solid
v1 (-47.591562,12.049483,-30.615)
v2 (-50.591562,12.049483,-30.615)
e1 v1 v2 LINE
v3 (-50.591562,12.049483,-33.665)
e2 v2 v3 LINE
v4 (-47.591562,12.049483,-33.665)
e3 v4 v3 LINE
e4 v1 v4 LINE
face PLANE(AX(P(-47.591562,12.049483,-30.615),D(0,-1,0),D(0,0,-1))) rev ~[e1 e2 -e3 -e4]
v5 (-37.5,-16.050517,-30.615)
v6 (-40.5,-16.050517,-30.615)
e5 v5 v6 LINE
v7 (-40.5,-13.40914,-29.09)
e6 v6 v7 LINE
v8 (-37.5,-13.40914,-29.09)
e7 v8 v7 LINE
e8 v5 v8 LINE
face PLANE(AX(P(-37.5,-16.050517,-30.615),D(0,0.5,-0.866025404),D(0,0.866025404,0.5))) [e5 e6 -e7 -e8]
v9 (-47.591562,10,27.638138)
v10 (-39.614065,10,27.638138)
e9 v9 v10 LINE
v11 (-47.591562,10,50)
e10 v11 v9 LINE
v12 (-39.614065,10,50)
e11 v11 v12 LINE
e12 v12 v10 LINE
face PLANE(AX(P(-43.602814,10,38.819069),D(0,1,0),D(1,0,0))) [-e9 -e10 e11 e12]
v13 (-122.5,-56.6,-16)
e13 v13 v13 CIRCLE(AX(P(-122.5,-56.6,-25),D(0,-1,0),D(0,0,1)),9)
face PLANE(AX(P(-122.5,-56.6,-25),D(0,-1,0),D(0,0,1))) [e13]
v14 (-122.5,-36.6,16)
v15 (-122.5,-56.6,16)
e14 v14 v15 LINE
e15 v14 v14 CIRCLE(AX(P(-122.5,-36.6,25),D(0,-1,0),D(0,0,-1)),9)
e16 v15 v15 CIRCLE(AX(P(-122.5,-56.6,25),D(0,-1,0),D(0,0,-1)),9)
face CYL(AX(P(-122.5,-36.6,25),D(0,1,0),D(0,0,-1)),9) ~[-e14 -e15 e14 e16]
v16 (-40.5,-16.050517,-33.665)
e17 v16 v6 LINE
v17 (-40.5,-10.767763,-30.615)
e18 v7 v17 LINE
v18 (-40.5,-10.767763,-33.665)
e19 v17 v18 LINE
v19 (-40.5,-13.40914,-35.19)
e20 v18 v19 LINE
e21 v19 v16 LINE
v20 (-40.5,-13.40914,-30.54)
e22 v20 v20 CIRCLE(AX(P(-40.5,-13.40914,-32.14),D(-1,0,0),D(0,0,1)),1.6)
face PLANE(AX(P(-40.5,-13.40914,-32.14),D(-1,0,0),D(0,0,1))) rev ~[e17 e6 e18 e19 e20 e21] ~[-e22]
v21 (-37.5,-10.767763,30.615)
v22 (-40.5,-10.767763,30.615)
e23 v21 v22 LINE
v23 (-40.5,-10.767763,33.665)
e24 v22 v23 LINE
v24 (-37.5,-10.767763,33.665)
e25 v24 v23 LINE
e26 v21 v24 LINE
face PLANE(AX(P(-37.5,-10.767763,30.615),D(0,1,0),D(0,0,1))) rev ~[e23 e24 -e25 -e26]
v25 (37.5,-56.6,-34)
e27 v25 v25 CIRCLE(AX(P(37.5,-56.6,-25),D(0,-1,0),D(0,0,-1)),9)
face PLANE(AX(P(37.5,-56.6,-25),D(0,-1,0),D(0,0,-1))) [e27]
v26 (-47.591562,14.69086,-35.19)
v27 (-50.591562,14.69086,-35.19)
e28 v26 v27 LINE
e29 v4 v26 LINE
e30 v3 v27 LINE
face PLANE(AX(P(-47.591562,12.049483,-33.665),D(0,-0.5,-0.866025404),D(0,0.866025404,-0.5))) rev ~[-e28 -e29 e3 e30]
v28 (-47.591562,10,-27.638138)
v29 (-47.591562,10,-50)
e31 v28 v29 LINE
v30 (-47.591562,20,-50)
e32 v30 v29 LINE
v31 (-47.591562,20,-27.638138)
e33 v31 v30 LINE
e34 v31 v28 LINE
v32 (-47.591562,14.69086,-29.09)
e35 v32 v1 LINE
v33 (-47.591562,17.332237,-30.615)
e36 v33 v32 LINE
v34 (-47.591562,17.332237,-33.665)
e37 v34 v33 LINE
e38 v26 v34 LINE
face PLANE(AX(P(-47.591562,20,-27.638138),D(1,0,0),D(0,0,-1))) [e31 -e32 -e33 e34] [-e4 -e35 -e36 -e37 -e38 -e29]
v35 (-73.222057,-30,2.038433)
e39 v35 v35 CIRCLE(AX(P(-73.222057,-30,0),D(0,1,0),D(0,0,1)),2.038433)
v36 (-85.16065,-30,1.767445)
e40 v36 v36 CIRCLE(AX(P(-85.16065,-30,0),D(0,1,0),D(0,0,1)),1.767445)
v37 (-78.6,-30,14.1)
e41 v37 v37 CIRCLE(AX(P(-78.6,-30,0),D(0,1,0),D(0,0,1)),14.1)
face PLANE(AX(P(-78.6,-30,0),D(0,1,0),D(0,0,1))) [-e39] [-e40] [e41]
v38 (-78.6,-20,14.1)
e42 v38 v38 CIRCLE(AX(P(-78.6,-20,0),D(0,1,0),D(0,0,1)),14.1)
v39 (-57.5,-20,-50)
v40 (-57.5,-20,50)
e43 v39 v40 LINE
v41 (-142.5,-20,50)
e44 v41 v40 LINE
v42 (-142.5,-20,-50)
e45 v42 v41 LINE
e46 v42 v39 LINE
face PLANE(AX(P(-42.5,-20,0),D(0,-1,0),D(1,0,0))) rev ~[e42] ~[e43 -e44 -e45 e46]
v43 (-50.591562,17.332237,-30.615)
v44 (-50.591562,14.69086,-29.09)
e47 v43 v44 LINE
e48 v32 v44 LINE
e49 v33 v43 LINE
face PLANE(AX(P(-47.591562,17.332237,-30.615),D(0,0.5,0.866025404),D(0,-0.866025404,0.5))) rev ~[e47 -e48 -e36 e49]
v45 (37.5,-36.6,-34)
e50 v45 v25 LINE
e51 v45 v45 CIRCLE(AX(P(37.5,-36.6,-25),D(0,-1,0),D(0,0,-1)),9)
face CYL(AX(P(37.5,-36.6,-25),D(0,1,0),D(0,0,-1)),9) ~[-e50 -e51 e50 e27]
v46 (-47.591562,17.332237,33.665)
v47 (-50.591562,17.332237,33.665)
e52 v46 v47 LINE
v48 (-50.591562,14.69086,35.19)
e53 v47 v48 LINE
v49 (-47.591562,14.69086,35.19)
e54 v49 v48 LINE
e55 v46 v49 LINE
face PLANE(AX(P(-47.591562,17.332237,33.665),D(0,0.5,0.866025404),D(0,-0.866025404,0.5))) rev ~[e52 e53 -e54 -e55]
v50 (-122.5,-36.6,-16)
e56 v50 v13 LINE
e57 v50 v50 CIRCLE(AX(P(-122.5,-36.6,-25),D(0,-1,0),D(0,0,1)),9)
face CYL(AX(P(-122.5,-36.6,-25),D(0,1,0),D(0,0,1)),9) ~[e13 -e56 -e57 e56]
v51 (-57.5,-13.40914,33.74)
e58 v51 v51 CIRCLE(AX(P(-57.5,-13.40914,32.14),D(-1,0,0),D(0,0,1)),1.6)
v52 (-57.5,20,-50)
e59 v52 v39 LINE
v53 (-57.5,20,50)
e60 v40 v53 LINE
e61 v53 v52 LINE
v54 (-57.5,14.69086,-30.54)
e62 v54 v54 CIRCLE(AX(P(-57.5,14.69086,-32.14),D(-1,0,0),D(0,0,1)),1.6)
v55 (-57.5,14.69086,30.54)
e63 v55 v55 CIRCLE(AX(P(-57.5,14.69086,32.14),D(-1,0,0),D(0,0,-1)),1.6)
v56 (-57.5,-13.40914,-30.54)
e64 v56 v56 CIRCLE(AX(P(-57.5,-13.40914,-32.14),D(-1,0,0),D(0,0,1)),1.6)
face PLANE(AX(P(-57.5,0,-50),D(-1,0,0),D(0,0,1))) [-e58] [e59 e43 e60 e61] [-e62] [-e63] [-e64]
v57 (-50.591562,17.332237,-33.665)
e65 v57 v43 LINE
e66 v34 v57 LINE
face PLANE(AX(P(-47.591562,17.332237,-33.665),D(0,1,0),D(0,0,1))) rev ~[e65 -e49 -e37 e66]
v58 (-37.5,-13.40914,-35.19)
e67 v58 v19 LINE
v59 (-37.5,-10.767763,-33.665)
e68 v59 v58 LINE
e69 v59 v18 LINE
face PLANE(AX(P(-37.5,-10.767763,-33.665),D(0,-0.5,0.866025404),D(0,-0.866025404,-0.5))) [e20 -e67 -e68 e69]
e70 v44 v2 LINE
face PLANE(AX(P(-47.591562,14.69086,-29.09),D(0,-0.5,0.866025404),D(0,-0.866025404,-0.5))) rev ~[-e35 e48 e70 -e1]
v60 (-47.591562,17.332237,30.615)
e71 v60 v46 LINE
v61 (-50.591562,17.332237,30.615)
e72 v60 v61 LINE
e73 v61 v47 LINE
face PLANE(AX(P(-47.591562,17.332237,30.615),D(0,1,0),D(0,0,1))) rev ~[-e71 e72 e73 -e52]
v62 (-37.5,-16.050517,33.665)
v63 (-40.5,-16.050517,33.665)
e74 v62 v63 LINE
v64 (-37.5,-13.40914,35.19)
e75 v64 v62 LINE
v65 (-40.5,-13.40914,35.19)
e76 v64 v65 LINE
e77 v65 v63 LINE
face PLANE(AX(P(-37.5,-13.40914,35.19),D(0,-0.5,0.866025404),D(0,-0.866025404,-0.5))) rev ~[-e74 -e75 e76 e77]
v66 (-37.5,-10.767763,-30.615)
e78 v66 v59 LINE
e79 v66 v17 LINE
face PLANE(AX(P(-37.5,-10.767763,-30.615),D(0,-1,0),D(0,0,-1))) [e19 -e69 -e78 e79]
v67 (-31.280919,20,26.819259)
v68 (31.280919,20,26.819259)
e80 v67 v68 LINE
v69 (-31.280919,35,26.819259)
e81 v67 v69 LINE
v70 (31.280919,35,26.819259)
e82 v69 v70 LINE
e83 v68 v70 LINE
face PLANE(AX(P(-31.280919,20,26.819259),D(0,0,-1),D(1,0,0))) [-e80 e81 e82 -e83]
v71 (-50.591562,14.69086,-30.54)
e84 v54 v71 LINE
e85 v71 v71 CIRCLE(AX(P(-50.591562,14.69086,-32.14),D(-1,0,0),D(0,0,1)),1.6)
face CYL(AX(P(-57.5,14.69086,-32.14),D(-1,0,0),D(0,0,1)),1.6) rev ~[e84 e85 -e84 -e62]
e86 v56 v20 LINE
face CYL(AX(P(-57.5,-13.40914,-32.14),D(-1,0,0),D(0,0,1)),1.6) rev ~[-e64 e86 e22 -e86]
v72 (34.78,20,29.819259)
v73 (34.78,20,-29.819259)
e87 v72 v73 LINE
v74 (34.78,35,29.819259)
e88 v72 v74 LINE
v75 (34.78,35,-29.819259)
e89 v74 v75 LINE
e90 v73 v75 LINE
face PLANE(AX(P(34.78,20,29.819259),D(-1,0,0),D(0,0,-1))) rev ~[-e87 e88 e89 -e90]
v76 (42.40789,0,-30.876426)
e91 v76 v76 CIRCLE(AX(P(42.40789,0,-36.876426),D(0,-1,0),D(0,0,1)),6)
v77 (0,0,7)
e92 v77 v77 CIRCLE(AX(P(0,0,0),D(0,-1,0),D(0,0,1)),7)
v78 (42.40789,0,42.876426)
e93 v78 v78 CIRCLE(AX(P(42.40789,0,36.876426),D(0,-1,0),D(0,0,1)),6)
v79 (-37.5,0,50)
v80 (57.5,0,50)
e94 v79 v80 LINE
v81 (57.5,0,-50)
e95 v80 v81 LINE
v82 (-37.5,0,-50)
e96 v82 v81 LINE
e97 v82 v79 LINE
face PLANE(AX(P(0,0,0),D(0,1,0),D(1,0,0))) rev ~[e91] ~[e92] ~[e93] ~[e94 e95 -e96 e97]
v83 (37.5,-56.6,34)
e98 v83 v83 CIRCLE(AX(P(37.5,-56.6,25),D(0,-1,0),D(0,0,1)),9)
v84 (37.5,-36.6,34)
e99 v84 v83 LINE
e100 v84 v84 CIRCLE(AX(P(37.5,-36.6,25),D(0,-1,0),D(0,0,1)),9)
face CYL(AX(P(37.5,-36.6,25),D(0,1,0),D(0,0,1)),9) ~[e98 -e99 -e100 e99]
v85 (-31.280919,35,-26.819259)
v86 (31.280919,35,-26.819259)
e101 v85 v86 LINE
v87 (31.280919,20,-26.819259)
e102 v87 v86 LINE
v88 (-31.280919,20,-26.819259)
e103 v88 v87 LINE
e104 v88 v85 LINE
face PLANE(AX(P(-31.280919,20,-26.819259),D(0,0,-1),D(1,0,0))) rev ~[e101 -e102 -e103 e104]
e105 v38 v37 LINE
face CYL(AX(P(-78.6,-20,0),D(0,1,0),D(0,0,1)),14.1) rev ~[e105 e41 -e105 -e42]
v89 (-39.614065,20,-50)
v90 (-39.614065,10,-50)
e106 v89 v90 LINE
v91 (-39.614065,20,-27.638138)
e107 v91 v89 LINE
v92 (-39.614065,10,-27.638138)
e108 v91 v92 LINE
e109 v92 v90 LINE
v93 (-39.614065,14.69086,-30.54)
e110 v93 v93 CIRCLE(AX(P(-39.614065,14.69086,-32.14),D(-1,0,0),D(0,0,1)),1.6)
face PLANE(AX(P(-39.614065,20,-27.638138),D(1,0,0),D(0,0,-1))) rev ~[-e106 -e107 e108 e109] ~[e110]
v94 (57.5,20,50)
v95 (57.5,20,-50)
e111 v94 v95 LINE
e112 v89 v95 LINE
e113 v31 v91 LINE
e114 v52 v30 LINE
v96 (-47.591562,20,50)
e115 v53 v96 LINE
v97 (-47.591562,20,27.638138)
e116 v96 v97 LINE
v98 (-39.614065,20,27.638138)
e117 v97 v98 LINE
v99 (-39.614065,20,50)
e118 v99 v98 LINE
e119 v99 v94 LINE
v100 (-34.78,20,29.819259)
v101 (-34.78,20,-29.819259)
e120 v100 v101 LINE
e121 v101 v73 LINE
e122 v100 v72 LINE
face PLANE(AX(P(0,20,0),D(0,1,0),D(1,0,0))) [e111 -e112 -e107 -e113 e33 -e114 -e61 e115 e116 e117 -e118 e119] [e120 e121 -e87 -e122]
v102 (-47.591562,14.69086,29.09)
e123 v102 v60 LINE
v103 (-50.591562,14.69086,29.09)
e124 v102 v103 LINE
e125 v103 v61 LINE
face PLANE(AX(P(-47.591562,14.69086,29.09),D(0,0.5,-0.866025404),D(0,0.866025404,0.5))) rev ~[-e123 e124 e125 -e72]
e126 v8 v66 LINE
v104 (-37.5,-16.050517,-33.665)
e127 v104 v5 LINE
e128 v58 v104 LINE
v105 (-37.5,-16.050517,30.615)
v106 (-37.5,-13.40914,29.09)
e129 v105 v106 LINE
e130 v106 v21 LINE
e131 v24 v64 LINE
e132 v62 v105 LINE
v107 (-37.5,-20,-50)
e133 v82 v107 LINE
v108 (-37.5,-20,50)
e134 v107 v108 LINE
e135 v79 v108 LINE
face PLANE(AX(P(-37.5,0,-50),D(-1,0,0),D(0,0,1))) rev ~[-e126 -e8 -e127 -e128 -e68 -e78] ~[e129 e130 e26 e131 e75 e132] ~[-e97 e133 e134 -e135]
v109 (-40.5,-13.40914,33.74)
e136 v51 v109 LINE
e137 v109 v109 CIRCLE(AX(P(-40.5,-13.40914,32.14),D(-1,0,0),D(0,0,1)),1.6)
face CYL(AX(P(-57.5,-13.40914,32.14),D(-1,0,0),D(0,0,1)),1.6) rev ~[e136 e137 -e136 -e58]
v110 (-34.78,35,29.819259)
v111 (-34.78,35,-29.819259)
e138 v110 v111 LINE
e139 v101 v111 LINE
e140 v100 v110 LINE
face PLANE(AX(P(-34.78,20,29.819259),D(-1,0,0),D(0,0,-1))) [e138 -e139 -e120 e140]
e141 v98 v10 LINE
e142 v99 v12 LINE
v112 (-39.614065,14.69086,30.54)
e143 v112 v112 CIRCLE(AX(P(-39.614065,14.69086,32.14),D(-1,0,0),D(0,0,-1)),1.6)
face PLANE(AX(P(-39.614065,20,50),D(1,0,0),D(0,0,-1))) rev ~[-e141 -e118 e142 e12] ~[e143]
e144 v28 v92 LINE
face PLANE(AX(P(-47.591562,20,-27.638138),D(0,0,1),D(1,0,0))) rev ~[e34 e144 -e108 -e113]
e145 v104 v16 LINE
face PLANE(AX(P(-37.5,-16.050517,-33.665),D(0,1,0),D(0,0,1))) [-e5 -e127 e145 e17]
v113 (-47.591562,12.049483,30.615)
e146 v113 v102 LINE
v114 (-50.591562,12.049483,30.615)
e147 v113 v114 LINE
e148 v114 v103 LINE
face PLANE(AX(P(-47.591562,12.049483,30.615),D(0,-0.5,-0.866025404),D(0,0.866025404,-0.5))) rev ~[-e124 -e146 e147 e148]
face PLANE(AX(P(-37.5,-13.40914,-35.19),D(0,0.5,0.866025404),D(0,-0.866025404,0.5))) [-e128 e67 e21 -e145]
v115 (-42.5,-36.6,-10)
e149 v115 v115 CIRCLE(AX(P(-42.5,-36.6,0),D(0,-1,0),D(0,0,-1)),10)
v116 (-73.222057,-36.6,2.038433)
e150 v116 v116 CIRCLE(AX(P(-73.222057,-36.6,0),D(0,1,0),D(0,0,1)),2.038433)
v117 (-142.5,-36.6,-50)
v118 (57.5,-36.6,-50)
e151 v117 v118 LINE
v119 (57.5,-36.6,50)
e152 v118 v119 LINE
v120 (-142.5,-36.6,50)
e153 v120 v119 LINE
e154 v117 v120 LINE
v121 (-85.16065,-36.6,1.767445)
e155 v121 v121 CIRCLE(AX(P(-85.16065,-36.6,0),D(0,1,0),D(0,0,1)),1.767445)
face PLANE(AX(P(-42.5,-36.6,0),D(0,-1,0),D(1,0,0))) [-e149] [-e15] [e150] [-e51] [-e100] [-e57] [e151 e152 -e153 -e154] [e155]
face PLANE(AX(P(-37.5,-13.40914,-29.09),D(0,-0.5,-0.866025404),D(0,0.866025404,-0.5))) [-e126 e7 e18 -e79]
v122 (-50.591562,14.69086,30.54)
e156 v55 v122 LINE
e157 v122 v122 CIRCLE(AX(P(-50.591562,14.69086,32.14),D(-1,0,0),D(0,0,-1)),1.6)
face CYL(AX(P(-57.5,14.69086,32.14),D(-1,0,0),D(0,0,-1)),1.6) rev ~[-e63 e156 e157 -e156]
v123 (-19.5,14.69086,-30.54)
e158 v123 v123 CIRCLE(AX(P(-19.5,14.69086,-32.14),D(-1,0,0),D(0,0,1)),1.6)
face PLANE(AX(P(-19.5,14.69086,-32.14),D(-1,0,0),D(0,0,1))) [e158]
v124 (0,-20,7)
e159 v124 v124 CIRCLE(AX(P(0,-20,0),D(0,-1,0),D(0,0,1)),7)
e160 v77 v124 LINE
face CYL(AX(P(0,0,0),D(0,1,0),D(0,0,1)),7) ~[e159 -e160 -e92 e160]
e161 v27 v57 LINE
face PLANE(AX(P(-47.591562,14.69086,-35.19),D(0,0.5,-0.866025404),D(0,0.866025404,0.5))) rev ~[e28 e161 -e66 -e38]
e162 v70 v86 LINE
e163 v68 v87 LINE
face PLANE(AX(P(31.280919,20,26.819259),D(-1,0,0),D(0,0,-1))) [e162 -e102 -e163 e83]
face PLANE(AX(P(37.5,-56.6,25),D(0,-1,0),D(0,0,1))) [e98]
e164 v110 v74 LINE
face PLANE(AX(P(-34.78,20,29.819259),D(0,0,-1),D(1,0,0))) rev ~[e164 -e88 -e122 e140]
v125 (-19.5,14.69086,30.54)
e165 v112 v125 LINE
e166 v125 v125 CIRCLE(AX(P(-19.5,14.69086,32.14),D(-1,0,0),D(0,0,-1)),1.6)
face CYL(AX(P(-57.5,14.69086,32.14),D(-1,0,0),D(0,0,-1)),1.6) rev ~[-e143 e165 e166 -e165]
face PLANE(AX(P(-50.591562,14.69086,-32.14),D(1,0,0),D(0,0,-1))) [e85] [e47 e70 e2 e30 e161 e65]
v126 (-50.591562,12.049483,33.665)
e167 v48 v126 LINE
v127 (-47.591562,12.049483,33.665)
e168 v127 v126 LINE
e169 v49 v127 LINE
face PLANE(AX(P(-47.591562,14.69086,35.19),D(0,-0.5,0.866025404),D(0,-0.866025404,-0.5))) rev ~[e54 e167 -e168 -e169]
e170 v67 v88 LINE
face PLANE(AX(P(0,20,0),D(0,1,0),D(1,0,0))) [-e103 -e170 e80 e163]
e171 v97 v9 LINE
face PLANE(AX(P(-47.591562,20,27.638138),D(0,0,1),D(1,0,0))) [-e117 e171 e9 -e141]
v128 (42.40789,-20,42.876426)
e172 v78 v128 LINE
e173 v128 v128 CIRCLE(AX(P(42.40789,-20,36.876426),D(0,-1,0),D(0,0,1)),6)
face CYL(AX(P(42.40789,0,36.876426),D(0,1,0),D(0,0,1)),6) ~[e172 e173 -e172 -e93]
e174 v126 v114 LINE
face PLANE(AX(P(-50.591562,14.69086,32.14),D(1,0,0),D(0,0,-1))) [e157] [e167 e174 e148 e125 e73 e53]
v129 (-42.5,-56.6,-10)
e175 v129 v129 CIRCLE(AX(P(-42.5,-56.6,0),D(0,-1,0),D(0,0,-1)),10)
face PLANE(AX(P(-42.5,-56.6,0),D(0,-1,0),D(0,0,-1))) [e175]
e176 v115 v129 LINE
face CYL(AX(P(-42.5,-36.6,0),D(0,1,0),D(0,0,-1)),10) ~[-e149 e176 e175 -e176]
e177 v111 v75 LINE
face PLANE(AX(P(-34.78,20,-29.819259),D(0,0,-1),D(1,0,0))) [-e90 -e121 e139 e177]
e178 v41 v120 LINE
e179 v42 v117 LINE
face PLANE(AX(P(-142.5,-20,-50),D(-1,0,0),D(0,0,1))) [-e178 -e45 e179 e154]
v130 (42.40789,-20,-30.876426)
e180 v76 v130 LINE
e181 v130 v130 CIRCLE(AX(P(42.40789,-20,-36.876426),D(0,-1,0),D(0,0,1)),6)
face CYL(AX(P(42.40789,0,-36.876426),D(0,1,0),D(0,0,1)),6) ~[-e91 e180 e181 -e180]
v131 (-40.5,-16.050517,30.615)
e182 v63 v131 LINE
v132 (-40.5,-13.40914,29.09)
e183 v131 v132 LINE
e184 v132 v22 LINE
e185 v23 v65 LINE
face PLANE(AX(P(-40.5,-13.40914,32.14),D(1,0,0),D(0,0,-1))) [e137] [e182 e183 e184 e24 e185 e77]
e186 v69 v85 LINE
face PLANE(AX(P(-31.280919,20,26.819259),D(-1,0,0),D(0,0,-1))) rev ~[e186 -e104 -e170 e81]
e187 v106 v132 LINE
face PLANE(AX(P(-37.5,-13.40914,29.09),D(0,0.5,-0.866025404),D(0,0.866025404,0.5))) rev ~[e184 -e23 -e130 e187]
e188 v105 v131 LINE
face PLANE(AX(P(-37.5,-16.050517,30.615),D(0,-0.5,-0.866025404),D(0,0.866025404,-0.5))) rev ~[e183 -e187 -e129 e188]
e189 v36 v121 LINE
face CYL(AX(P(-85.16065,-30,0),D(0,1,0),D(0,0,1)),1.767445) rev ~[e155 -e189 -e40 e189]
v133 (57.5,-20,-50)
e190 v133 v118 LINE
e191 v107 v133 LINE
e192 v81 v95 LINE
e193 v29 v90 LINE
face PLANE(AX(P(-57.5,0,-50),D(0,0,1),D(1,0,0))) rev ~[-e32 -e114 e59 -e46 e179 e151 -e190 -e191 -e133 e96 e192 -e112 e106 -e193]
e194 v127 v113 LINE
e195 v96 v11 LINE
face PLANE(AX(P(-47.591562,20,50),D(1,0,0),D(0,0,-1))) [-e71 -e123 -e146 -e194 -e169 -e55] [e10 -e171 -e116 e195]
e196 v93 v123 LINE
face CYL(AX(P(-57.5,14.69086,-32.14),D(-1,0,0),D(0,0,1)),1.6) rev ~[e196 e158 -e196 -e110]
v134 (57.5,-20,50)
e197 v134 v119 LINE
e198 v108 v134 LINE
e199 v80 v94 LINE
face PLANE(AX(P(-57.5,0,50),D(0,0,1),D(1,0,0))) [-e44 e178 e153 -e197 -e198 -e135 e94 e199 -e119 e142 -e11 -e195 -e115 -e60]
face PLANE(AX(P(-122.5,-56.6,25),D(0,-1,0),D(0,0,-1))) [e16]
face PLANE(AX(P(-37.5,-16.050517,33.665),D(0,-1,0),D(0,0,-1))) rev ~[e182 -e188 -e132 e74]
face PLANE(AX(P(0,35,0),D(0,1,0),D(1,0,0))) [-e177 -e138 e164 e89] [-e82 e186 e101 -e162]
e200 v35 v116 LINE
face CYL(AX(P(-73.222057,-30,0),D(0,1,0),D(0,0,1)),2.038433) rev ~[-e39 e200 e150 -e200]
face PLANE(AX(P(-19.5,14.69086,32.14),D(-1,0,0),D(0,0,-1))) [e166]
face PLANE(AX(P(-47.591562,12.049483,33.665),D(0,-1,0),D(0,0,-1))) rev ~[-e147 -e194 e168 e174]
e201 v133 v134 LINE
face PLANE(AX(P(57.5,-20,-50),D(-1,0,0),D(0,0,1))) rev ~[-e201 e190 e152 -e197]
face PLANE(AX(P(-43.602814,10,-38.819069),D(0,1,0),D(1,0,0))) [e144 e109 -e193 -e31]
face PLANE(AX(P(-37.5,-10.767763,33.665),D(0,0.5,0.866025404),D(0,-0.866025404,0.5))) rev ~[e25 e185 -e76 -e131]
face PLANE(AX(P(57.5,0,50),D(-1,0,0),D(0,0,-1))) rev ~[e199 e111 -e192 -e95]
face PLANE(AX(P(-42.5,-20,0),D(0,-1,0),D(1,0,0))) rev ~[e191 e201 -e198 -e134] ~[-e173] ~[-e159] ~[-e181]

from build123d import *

# Parameters (mm, degrees)
SKETCH1_W            = 115
SKETCH1_H            = 100
BOSS_EXTRUDE1_DEPTH  = 20
SKETCH8_R            = 7
SKETCH8_R_2          = 6
BOSS_EXTRUDE4_DEPTH  = 20
SKETCH9_W            = 200
SKETCH9_H            = 100
BOSS_EXTRUDE5_DEPTH  = 16.6
SKETCH10_R           = 9
SKETCH10_R_2         = 10
BOSS_EXTRUDE7_DEPTH  = 20
SKETCH11_W           = 69.56
SKETCH11_H           = 59.638518518
SKETCH11_W_2         = 62.561838236
SKETCH11_H_2         = 53.638518518
BOSS_EXTRUDE9_DEPTH  = 15
SKETCH17_W           = 20
SKETCH17_H           = 100
BOSS_EXTRUDE15_DEPTH = 20
SKETCH15_R           = 14.1
CUT_EXTRUDE2_DEPTH   = 10
SKETCH21_R           = 1.76744544
SKETCH21_R_2         = 2.038433248
CUT_EXTRUDE3_DEPTH   = 20
SKETCH19_R           = 1.6
CUT_EXTRUDE4_DEPTH   = 38
CUT_EXTRUDE5_DEPTH   = 3
SKETCH23_W           = 7.97749669
SKETCH23_H           = 22.361861783
CUT_EXTRUDE6_DEPTH   = 10
CUT_EXTRUDE7_DEPTH   = 3
CUT_EXTRUDE8_DEPTH   = 3


with BuildPart() as part:
    # Sketch1 → Boss-Extrude1 (new body)
    with BuildSketch(Plane(origin=(0, 0, 0), x_dir=(1, 0, 0), z_dir=(0, 1, 0))):
        Rectangle(SKETCH1_W, SKETCH1_H)
    extrude(amount=BOSS_EXTRUDE1_DEPTH)

    # Sketch8 → Boss-Extrude4 (add)
    with BuildSketch(Plane.XZ):
        with Locations(Location((0, 0, 0), (0, 0, 90))):
            Circle(SKETCH8_R)
        with Locations(Location((42.407889557, -36.876425702, 0), (0, 0, 90))):
            Circle(SKETCH8_R_2)
        with Locations(Location((42.407889557, 36.876425702, 0), (0, 0, 90))):
            Circle(SKETCH8_R_2)
    extrude(amount=BOSS_EXTRUDE4_DEPTH)

    # Sketch9 → Boss-Extrude5 (add)
    with BuildSketch(Plane.XZ.offset(20)):
        with Locations((-42.5, 0)):
            Rectangle(SKETCH9_W, SKETCH9_H)
    extrude(amount=BOSS_EXTRUDE5_DEPTH)

    # Sketch10 → Boss-Extrude7 (add)
    with BuildSketch(Plane.XZ.offset(36.6)):
        with Locations(Location((37.5, -25, 0), (0, 0, 270))):
            Circle(SKETCH10_R)
        with Locations(Location((-122.5, -25, 0), (0, 0, 90))):
            Circle(SKETCH10_R)
        with Locations(Location((-122.5, 25, 0), (0, 0, 270))):
            Circle(SKETCH10_R)
        with Locations(Location((37.5, 25, 0), (0, 0, 90))):
            Circle(SKETCH10_R)
        with Locations(Location((-42.5, 0, 0), (0, 0, 270))):
            Circle(SKETCH10_R_2)
    extrude(amount=BOSS_EXTRUDE7_DEPTH)

    # Sketch11 → Boss-Extrude9 (add)
    with BuildSketch(Plane(origin=(0, 20, 0), x_dir=(1, 0, 0), z_dir=(0, 1, 0))):
        Rectangle(SKETCH11_W, SKETCH11_H)
        Rectangle(SKETCH11_W_2, SKETCH11_H_2, mode=Mode.SUBTRACT)
    extrude(amount=BOSS_EXTRUDE9_DEPTH)

    # Sketch17 → Boss-Extrude15 (add)
    with BuildSketch(Plane.XZ):
        with Locations((-47.5, 0)):
            Rectangle(SKETCH17_W, SKETCH17_H)
    extrude(amount=BOSS_EXTRUDE15_DEPTH)

    # Sketch15 → Cut-Extrude2 (cut)
    with BuildSketch(Plane(origin=(0, -20, 0), x_dir=(1, 0, 0), z_dir=(0, 1, 0))):
        with Locations(Location((-78.6, 0, 0), (0, 0, 270))):
            Circle(SKETCH15_R)
    extrude(amount=-CUT_EXTRUDE2_DEPTH, mode=Mode.SUBTRACT)

    # Sketch21 → Cut-Extrude3 (cut)
    with BuildSketch(Plane(origin=(0, -30, 0), x_dir=(1, 0, 0), z_dir=(0, 1, 0))):
        with Locations(Location((-85.16065049, 0, 0), (0, 0, 270))):
            Circle(SKETCH21_R)
        with Locations(Location((-73.222056531, 0, 0), (0, 0, 270))):
            Circle(SKETCH21_R_2)
    extrude(amount=-CUT_EXTRUDE3_DEPTH, mode=Mode.SUBTRACT)

    # Sketch19 → Cut-Extrude4 (cut)
    with BuildSketch(Plane.ZY.offset(57.5)):
        with Locations((-32.14, -13.409140004)):
            Circle(SKETCH19_R)
        with Locations((32.14, -13.409140004)):
            Circle(SKETCH19_R)
        with Locations((-32.14, 14.690859996)):
            Circle(SKETCH19_R)
        with Locations(Location((32.14, 14.690859996, 0), (0, 0, 180))):
            Circle(SKETCH19_R)
    extrude(amount=-CUT_EXTRUDE4_DEPTH, mode=Mode.SUBTRACT)

    # Sketch22 → Cut-Extrude5 (cut)
    with BuildSketch(Plane(origin=(-37.5, 0, 0), x_dir=(0, 0, -1), z_dir=(1, 0, 0))):
        Polygon((-29.09, -13.409140004), (-30.615, -10.767762522), (-33.665, -10.767762522), (-35.19, -13.409140004), (-33.665, -16.050517485), (-30.615, -16.050517485), align=None)
        Polygon((30.615, -16.050517485), (29.09, -13.409140004), (30.615, -10.767762522), (33.665, -10.767762522), (35.19, -13.409140004), (33.665, -16.050517485), align=None)
    extrude(amount=-CUT_EXTRUDE5_DEPTH, mode=Mode.SUBTRACT)

    # Sketch23 → Cut-Extrude6 (cut)
    with BuildSketch(Plane(origin=(0, 20, 0), x_dir=(1, 0, 0), z_dir=(0, 1, 0))):
        with Locations((-43.602813804, -38.819069109)):
            Rectangle(SKETCH23_W, SKETCH23_H)
        with Locations((-43.602813804, 38.819069109)):
            Rectangle(SKETCH23_W, SKETCH23_H)
    extrude(amount=-CUT_EXTRUDE6_DEPTH, mode=Mode.SUBTRACT)

    # Sketch24 → Cut-Extrude7 (cut)
    with BuildSketch(Plane(origin=(-47.591562149, 0, 0), x_dir=(0, 0, -1), z_dir=(1, 0, 0))):
        Polygon((-33.665, 17.332237478), (-35.19, 14.690859996), (-33.665, 12.049482515), (-30.615, 12.049482515), (-29.09, 14.690859996), (-30.615, 17.332237478), align=None)
    extrude(amount=-CUT_EXTRUDE7_DEPTH, mode=Mode.SUBTRACT)

    # Sketch25 → Cut-Extrude8 (cut)
    with BuildSketch(Plane(origin=(-47.591562149, 0, 0), x_dir=(0, 0, -1), z_dir=(1, 0, 0))):
        Polygon((35.19, 14.690859996), (33.665, 17.332237478), (30.615, 17.332237478), (29.09, 14.690859996), (30.615, 12.049482515), (33.665, 12.049482515), align=None)
    extrude(amount=-CUT_EXTRUDE8_DEPTH, mode=Mode.SUBTRACT)


solid = part.part
